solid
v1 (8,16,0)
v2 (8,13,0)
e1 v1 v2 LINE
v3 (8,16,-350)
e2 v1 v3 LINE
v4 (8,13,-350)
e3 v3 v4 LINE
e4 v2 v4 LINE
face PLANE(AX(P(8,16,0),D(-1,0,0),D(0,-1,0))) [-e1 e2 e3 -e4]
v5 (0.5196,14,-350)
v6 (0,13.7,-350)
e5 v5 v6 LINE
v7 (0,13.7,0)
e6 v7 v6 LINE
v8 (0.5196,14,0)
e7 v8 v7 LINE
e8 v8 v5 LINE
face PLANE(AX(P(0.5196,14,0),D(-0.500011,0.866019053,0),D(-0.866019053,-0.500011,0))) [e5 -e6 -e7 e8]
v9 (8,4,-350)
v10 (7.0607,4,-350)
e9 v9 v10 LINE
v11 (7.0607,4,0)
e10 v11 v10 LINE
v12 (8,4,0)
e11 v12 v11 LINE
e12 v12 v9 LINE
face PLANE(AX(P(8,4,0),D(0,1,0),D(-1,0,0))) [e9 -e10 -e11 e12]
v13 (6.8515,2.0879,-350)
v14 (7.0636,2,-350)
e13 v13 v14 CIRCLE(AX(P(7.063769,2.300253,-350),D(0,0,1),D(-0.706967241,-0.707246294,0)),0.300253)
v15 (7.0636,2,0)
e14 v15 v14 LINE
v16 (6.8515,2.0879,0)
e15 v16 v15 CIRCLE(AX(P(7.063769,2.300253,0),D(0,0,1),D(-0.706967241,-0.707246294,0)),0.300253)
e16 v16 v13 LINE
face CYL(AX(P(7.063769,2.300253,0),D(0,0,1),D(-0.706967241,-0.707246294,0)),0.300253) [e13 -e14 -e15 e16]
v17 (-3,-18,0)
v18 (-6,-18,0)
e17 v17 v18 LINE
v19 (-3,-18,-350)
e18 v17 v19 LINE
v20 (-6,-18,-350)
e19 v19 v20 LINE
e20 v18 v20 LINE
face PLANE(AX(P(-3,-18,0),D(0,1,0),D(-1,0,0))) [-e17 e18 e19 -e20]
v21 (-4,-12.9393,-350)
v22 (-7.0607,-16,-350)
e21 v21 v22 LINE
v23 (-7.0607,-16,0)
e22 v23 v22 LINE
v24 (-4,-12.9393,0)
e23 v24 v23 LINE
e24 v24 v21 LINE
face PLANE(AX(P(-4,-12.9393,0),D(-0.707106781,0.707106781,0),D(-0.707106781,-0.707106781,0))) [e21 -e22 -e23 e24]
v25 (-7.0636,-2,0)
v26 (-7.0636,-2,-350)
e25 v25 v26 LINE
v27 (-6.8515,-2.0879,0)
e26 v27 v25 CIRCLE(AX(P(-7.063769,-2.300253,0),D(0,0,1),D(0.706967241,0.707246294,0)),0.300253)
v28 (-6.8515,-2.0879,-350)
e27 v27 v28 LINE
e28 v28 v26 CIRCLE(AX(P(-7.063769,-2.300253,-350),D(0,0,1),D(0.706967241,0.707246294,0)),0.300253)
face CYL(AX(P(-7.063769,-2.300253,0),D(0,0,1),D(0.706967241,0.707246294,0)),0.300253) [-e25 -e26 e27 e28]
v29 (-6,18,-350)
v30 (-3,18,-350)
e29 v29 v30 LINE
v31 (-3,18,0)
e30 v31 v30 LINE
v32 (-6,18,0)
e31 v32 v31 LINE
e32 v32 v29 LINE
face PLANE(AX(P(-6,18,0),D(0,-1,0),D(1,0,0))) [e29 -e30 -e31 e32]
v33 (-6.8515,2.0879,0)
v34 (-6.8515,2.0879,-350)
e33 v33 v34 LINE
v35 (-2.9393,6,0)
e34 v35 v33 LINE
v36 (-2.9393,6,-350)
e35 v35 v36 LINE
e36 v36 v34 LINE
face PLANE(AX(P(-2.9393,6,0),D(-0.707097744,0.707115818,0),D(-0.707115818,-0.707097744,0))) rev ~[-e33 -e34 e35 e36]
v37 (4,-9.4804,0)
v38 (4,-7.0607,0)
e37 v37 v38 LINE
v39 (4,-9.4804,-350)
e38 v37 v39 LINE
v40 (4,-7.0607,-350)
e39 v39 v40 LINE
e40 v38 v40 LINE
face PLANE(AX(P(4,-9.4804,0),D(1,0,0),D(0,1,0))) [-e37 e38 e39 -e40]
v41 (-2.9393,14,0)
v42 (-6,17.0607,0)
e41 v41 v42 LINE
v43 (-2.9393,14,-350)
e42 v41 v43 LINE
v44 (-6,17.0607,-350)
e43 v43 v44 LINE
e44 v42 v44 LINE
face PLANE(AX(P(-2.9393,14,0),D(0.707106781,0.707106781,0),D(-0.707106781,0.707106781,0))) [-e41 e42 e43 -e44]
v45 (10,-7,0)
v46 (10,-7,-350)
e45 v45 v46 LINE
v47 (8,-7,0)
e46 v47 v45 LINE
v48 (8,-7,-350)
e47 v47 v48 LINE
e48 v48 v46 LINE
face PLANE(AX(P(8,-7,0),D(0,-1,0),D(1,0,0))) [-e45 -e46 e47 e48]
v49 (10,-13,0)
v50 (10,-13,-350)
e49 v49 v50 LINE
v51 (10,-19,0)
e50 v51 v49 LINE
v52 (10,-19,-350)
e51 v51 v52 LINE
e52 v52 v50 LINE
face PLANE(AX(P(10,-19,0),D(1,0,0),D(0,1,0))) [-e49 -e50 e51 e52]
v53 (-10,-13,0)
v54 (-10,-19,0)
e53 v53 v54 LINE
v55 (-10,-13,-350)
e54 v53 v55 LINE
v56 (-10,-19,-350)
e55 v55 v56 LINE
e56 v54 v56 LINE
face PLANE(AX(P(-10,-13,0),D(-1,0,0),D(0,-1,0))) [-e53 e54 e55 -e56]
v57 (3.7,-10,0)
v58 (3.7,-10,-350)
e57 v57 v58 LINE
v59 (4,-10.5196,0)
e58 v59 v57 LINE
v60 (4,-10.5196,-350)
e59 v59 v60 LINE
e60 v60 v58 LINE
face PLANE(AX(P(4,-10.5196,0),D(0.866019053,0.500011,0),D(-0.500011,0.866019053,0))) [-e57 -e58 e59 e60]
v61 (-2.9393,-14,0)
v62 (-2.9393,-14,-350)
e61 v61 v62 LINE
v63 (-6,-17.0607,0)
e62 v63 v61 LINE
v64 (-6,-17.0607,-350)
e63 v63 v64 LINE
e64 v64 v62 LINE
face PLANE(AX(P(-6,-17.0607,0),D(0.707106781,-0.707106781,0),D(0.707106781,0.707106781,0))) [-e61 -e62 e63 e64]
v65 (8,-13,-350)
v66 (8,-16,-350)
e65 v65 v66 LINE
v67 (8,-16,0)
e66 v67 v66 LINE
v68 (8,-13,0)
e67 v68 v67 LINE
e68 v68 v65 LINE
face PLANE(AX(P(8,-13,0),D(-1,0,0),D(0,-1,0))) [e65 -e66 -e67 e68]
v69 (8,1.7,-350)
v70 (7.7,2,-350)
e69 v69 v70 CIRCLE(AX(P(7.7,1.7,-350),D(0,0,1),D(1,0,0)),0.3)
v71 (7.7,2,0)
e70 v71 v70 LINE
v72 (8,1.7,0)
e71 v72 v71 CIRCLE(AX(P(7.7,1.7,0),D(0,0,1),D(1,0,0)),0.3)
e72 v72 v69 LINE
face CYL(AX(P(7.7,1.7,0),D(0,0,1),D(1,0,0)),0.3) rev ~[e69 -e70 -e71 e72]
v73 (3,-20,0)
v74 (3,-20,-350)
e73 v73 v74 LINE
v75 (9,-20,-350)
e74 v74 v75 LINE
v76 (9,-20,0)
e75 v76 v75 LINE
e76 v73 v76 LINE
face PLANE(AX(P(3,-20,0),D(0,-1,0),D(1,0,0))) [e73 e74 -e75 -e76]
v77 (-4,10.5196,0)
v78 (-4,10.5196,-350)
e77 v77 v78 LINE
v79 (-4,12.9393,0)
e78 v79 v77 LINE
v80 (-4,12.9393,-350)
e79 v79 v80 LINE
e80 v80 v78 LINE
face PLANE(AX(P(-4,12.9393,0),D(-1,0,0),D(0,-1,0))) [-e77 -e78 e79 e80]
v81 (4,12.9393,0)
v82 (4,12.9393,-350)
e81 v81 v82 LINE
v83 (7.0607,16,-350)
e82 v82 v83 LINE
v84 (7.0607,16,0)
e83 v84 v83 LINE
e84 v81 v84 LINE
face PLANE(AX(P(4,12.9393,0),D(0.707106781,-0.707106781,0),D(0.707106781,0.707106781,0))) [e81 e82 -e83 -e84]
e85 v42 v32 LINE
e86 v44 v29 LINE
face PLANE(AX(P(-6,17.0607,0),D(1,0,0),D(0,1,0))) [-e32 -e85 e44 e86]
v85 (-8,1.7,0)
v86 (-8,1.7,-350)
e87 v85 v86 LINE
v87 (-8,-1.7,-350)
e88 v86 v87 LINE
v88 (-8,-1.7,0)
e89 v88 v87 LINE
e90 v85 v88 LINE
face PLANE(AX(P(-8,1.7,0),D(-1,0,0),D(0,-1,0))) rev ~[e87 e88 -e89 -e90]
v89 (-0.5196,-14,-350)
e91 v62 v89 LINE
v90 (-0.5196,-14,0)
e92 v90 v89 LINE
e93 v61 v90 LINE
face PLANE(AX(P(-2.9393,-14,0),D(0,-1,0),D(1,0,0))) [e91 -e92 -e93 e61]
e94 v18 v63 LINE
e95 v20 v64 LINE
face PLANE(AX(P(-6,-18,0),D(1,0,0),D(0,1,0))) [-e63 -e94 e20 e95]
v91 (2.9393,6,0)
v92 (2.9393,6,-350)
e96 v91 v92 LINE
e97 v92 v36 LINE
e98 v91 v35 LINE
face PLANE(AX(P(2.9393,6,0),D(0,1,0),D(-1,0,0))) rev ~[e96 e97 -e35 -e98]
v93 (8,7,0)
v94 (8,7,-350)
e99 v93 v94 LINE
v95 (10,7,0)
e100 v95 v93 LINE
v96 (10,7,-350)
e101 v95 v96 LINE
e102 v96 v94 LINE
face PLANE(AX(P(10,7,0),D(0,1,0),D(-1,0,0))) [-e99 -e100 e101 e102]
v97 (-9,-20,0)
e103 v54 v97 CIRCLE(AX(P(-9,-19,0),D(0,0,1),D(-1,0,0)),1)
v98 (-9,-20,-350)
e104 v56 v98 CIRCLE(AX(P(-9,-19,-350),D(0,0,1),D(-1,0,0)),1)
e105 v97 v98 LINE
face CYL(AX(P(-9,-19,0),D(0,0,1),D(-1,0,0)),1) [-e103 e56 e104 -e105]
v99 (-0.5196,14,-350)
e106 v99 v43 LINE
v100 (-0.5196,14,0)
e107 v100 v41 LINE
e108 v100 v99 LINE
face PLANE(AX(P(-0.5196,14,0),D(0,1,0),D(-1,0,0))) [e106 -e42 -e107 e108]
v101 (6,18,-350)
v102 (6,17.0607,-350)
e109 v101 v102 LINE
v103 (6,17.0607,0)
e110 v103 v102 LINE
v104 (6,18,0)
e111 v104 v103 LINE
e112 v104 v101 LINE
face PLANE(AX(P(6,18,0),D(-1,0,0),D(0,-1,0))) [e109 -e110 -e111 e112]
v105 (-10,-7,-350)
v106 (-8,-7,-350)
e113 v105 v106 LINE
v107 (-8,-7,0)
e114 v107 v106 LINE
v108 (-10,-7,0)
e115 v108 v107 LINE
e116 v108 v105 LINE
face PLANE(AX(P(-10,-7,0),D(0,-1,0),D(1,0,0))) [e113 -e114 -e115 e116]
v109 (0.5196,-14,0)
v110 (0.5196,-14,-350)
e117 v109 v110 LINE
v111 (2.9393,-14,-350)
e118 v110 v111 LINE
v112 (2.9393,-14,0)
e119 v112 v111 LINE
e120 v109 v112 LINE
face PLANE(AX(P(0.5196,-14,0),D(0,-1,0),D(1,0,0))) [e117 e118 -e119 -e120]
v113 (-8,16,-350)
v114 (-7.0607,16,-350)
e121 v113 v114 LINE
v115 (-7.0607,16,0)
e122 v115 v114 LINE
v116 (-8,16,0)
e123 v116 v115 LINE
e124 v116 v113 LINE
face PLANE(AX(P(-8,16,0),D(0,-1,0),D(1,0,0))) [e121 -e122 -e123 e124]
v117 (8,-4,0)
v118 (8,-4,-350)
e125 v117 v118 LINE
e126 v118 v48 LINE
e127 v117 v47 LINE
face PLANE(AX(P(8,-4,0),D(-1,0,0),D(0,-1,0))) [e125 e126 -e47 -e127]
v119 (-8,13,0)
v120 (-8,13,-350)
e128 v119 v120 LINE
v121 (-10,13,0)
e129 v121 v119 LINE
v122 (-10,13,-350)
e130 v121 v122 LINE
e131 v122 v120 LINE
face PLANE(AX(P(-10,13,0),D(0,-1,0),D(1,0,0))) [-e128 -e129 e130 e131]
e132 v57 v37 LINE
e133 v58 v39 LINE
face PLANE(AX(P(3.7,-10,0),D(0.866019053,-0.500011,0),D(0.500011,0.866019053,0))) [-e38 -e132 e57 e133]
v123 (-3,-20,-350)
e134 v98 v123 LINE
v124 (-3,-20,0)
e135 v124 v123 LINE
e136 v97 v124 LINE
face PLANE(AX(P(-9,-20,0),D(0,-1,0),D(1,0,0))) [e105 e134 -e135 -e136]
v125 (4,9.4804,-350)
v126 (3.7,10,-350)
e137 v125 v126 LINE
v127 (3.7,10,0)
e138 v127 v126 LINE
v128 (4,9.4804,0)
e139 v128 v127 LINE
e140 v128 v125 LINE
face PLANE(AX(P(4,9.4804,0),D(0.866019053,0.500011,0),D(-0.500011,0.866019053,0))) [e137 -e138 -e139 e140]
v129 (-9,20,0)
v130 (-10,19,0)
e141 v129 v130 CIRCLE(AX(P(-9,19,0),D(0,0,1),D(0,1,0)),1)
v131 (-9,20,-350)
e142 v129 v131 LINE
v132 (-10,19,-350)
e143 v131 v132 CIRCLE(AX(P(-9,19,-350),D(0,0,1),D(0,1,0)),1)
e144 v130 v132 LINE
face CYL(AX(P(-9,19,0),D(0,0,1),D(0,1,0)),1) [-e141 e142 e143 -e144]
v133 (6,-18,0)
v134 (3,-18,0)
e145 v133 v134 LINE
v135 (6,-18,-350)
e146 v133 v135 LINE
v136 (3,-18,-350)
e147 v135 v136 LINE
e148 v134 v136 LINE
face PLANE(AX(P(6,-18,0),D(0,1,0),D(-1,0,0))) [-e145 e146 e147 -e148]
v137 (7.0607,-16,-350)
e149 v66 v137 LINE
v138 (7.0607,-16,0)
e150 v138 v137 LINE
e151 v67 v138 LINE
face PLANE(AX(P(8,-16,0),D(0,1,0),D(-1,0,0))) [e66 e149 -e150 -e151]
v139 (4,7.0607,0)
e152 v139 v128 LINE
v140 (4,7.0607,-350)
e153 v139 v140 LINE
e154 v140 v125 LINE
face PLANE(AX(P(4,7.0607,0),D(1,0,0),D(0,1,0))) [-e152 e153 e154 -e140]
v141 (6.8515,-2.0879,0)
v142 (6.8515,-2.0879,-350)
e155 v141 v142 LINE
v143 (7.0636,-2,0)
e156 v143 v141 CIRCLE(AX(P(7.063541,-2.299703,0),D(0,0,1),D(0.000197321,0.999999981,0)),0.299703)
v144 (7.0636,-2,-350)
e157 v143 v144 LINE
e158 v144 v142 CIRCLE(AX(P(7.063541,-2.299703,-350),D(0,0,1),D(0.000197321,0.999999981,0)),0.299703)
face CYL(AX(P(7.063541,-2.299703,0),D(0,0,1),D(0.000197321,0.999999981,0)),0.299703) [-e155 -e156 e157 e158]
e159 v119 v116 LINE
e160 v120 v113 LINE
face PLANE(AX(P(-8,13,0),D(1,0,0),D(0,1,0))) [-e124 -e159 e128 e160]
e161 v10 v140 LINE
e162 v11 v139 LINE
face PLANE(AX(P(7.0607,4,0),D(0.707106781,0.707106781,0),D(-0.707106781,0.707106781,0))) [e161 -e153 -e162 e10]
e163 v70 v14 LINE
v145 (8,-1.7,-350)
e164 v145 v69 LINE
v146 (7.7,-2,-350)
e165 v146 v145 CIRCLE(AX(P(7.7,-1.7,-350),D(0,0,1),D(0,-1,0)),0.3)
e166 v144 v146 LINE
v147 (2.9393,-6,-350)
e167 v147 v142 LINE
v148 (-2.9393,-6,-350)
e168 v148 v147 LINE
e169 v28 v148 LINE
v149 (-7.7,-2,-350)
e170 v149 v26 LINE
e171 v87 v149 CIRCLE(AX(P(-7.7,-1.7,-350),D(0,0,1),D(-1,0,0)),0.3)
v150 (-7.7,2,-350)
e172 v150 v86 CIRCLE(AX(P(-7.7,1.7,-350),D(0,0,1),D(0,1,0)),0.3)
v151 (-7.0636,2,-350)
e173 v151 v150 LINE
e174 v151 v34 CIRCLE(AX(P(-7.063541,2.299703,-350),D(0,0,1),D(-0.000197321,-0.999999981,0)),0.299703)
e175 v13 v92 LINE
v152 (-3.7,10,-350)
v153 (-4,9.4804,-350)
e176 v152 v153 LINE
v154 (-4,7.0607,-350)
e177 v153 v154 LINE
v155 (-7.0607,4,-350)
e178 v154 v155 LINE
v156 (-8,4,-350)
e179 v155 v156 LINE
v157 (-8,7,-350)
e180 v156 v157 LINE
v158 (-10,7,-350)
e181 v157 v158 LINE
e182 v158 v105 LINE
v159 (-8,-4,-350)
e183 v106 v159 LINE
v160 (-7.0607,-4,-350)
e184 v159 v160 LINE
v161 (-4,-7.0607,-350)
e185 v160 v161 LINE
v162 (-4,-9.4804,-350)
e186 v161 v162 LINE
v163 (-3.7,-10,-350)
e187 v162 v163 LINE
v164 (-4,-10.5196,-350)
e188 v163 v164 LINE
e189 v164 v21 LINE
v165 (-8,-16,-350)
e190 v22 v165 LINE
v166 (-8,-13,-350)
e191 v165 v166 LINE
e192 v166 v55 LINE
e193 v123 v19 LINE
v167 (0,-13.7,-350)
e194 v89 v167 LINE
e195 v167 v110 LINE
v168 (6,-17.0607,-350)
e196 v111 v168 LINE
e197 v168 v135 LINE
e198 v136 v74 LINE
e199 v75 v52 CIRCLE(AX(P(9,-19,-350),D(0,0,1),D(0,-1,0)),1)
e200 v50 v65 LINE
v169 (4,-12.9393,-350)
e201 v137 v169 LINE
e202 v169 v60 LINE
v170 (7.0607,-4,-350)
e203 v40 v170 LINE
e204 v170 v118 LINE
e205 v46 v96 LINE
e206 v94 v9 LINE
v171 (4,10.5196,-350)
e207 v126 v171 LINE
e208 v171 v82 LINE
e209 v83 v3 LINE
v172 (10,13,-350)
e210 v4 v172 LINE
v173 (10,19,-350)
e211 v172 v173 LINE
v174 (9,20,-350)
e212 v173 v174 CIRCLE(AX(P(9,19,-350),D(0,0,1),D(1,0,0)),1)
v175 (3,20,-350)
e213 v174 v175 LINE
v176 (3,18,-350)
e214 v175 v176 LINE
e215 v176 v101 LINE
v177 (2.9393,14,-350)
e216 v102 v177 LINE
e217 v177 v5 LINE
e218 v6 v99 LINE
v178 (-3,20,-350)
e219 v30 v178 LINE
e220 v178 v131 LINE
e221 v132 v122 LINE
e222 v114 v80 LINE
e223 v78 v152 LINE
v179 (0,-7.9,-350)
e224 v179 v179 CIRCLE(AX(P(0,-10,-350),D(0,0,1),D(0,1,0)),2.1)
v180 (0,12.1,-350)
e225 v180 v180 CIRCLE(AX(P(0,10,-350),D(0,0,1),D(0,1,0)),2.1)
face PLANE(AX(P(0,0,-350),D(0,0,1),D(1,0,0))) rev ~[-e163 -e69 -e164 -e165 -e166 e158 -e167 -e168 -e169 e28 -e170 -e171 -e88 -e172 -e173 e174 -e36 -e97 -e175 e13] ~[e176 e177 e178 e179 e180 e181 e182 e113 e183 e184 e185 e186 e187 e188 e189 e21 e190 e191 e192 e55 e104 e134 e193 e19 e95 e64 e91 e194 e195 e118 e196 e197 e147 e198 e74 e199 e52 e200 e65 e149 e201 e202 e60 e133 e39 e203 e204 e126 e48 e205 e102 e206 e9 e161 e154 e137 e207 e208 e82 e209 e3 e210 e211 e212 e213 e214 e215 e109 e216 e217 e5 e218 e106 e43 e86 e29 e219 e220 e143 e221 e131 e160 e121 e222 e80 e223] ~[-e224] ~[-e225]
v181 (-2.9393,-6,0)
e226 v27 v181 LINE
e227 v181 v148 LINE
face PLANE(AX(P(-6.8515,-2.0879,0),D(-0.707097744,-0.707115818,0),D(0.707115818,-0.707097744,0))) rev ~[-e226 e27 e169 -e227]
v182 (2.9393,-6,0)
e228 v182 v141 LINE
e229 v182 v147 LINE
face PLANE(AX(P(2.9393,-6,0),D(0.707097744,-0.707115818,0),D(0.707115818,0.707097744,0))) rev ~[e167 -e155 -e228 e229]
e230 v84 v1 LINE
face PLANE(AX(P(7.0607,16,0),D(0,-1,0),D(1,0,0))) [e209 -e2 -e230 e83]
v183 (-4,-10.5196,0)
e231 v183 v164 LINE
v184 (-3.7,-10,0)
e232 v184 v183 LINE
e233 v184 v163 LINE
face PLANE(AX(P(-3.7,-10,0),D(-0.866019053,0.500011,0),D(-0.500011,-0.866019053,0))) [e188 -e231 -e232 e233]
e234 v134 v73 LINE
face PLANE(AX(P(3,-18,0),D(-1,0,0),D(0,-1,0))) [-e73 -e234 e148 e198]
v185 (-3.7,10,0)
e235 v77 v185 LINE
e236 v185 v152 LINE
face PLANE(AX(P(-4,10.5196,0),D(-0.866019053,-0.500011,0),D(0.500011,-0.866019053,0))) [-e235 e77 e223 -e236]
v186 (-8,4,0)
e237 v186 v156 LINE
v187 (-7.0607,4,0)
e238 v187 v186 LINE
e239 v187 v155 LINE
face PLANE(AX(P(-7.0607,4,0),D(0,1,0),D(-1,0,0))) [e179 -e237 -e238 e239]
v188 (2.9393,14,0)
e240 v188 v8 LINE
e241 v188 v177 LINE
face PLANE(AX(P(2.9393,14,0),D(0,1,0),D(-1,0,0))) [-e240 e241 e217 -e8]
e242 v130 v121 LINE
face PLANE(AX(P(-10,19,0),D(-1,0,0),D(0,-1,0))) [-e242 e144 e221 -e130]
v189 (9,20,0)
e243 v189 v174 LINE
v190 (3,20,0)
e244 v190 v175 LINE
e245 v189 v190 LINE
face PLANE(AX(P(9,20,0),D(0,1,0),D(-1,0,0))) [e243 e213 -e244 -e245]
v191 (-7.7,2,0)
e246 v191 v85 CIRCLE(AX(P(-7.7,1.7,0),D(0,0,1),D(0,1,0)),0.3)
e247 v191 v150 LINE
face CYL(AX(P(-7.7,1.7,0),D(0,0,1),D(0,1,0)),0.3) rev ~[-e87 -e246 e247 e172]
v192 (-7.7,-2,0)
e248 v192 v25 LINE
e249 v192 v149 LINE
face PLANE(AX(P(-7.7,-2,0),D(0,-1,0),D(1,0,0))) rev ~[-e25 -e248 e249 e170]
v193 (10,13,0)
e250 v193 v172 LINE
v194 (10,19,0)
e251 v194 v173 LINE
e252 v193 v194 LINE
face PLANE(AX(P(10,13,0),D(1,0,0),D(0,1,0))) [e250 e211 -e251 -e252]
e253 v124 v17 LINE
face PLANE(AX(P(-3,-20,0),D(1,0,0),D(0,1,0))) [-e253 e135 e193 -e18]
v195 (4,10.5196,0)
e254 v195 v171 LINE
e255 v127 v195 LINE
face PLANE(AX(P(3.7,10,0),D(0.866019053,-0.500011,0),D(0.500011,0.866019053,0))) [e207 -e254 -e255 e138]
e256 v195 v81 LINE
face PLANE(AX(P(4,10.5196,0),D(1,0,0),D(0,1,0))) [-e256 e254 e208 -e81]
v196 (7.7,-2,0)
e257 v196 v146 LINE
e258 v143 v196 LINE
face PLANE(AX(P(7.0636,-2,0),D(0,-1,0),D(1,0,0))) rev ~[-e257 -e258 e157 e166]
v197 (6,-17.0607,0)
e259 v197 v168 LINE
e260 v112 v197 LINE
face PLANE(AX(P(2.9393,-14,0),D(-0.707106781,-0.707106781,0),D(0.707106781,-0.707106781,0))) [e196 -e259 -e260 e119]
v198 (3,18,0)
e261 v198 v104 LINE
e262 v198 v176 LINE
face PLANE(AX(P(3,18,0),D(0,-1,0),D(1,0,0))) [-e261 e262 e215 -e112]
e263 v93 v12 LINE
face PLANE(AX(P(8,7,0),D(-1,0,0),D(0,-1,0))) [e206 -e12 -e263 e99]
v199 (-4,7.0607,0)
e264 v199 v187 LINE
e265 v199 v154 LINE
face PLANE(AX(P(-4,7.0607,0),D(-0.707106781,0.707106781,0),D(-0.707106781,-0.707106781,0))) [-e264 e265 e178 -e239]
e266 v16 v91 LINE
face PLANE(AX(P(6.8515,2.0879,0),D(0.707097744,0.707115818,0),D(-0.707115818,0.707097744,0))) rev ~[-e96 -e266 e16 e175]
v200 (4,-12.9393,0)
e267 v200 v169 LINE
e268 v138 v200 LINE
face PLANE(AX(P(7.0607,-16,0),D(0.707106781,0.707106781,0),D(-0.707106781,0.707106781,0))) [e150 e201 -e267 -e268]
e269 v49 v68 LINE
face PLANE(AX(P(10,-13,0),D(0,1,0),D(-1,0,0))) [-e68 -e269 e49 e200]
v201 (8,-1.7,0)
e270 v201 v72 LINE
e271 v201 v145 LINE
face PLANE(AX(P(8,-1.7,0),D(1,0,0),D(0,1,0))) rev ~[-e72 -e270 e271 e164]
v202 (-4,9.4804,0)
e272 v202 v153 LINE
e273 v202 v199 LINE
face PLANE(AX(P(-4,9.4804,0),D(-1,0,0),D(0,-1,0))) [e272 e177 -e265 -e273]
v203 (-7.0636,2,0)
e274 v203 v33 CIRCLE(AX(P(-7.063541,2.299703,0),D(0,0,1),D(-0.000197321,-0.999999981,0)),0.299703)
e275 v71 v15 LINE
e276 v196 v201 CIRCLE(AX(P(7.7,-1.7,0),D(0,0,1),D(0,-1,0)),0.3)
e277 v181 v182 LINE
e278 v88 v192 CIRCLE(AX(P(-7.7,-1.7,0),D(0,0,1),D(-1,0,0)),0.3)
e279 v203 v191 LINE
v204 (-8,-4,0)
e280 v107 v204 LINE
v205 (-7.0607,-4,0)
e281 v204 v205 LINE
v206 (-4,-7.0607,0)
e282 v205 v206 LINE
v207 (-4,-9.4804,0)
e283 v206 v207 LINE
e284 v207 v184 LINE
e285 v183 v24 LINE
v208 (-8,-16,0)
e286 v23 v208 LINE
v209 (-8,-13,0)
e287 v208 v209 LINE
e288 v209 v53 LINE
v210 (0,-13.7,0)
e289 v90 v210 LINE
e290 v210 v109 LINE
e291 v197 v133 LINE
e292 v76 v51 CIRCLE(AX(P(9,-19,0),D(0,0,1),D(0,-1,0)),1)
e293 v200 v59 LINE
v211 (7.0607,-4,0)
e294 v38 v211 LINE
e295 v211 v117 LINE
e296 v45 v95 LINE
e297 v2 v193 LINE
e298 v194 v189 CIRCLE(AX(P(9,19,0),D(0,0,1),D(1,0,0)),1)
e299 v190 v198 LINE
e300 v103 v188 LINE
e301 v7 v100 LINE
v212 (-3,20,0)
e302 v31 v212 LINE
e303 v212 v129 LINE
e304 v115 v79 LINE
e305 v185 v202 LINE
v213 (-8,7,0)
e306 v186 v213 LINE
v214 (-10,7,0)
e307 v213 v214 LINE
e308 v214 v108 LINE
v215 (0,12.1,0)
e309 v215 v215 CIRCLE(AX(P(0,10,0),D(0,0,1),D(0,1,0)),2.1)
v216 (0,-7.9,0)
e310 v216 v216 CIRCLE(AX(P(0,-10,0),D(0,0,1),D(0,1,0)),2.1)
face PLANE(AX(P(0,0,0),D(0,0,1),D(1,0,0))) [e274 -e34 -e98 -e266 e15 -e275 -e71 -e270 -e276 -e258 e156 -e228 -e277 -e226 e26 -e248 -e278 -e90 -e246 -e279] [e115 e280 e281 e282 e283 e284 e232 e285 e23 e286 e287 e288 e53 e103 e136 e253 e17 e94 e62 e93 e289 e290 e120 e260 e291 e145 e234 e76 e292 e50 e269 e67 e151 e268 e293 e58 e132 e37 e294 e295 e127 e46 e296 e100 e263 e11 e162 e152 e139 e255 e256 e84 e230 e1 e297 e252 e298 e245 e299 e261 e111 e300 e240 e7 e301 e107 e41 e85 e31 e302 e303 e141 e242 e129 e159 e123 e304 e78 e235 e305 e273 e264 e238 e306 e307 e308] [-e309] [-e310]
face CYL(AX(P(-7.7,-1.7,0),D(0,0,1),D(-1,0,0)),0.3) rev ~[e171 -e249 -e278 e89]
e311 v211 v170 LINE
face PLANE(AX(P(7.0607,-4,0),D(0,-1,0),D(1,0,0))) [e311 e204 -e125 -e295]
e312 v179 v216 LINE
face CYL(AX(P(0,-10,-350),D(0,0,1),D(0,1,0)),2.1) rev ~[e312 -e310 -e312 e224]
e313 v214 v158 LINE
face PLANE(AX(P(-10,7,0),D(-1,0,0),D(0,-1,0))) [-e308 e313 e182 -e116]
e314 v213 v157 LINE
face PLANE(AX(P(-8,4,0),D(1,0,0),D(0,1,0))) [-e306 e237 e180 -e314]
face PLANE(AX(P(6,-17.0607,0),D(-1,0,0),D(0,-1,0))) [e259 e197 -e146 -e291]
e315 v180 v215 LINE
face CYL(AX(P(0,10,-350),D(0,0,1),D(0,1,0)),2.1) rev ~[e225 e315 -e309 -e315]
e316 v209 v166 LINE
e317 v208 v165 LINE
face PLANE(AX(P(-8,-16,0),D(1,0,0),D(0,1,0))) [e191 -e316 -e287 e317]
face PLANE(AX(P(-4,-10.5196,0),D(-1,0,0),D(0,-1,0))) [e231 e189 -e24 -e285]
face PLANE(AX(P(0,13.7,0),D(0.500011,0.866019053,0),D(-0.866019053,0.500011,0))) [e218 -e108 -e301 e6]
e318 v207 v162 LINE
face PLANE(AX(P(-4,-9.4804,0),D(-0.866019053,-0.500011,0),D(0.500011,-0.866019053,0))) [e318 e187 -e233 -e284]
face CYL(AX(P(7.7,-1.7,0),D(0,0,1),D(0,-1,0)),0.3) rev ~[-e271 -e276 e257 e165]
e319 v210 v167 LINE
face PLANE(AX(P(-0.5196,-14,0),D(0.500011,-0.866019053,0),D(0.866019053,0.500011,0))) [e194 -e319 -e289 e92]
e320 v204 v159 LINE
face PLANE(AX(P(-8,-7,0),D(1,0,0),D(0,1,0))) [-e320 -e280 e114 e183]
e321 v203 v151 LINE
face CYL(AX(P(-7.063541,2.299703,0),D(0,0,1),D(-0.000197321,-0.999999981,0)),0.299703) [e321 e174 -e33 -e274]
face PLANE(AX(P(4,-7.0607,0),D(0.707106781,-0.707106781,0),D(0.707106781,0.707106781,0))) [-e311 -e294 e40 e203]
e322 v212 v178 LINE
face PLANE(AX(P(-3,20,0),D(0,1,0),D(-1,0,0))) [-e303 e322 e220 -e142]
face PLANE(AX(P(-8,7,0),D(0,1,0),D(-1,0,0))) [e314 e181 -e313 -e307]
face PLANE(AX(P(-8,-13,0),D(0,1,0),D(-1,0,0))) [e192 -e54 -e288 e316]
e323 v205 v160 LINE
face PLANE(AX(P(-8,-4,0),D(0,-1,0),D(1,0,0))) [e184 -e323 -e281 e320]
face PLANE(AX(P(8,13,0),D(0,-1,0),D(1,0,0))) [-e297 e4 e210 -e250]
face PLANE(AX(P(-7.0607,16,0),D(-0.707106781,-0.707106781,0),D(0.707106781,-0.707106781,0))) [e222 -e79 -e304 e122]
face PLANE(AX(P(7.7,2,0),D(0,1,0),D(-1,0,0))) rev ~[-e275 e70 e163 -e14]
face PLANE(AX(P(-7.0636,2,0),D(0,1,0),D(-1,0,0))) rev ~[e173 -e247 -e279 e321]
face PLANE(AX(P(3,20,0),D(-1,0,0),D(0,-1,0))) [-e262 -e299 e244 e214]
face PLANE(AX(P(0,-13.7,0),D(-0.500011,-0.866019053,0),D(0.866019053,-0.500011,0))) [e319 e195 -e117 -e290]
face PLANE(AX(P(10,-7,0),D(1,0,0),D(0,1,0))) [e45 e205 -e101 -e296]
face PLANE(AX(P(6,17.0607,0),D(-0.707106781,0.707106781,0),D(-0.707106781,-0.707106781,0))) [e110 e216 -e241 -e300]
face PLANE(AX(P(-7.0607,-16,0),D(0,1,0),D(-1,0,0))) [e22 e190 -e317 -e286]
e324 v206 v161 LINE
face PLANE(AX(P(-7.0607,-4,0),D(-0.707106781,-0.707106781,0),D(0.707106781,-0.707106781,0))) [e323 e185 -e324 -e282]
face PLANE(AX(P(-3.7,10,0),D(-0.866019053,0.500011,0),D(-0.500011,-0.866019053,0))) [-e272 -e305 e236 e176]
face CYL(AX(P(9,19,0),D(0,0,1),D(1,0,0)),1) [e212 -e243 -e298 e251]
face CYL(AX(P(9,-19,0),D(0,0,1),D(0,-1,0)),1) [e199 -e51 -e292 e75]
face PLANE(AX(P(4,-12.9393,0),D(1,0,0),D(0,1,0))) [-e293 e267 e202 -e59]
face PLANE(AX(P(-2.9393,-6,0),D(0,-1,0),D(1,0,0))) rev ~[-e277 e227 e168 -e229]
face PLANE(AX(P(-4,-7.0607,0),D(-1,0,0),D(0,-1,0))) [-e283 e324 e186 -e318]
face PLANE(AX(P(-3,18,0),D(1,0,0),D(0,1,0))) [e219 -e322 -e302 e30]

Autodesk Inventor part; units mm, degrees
sketch "Sketch_1" plane through (0, 0, 0) normal (0, 0, 1) x (1, 0, 0)
  line L0 (-10, -7) -> (-8, -7)
  line L1 (-8, -7) -> (-8, -4)
  line L2 (-8, -4) -> (-7.0607, -4)
  line L3 (-7.0607, -4) -> (-4, -7.0607)
  line L4 (-4, -7.0607) -> (-4, -9.4804)
  line L5 (-4, -9.4804) -> (-3.7, -10)
  line L6 (-3.7, -10) -> (-4, -10.5196)
  line L7 (-4, -10.5196) -> (-4, -12.9393)
  line L8 (-4, -12.9393) -> (-7.0607, -16)
  line L9 (-7.0607, -16) -> (-8, -16)
  line L10 (-8, -16) -> (-8, -13)
  line L11 (-8, -13) -> (-10, -13)
  line L12 (-10, -13) -> (-10, -19)
  arc A0 (-10, -19) -> (-9, -20) centre (-9, -19) ccw
  line L13 (-9, -20) -> (-3, -20)
  line L14 (-3, -20) -> (-3, -18)
  line L15 (-3, -18) -> (-6, -18)
  line L16 (-6, -18) -> (-6, -17.0607)
  line L17 (-6, -17.0607) -> (-2.9393, -14)
  line L18 (-2.9393, -14) -> (-0.5196, -14)
  line L19 (-0.5196, -14) -> (0, -13.7)
  line L20 (0, -13.7) -> (0.5196, -14)
  line L21 (0.5196, -14) -> (2.9393, -14)
  line L22 (2.9393, -14) -> (6, -17.0607)
  line L23 (6, -17.0607) -> (6, -18)
  line L24 (6, -18) -> (3, -18)
  line L25 (3, -18) -> (3, -20)
  line L26 (3, -20) -> (9, -20)
  arc A1 (9, -20) -> (10, -19) centre (9, -19) ccw
  line L27 (10, -19) -> (10, -13)
  line L28 (10, -13) -> (8, -13)
  line L29 (8, -13) -> (8, -16)
  line L30 (8, -16) -> (7.0607, -16)
  line L31 (7.0607, -16) -> (4, -12.9393)
  line L32 (4, -12.9393) -> (4, -10.5196)
  line L33 (4, -10.5196) -> (3.7, -10)
  line L34 (3.7, -10) -> (4, -9.4804)
  line L35 (4, -9.4804) -> (4, -7.0607)
  line L36 (4, -7.0607) -> (7.0607, -4)
  line L37 (7.0607, -4) -> (8, -4)
  line L38 (8, -4) -> (8, -7)
  line L39 (8, -7) -> (10, -7)
  line L40 (10, -7) -> (10, 7)
  line L41 (10, 7) -> (8, 7)
  line L42 (8, 7) -> (8, 4)
  line L43 (8, 4) -> (7.0607, 4)
  line L44 (7.0607, 4) -> (4, 7.0607)
  line L45 (4, 7.0607) -> (4, 9.4804)
  line L46 (4, 9.4804) -> (3.7, 10)
  line L47 (3.7, 10) -> (4, 10.5196)
  line L48 (4, 10.5196) -> (4, 12.9393)
  line L49 (4, 12.9393) -> (7.0607, 16)
  line L50 (7.0607, 16) -> (8, 16)
  line L51 (8, 16) -> (8, 13)
  line L52 (8, 13) -> (10, 13)
  line L53 (10, 13) -> (10, 19)
  arc A2 (10, 19) -> (9, 20) centre (9, 19) ccw
  line L54 (9, 20) -> (3, 20)
  line L55 (3, 20) -> (3, 18)
  line L56 (3, 18) -> (6, 18)
  line L57 (6, 18) -> (6, 17.0607)
  line L58 (6, 17.0607) -> (2.9393, 14)
  line L59 (2.9393, 14) -> (0.5196, 14)
  line L60 (0.5196, 14) -> (0, 13.7)
  line L61 (0, 13.7) -> (-0.5196, 14)
  line L62 (-0.5196, 14) -> (-2.9393, 14)
  line L63 (-2.9393, 14) -> (-6, 17.0607)
  line L64 (-6, 17.0607) -> (-6, 18)
  line L65 (-6, 18) -> (-3, 18)
  line L66 (-3, 18) -> (-3, 20)
  line L67 (-3, 20) -> (-9, 20)
  arc A3 (-9, 20) -> (-10, 19) centre (-9, 19) ccw
  line L68 (-10, 19) -> (-10, 13)
  line L69 (-10, 13) -> (-8, 13)
  line L70 (-8, 13) -> (-8, 16)
  line L71 (-8, 16) -> (-7.0607, 16)
  line L72 (-7.0607, 16) -> (-4, 12.9393)
  line L73 (-4, 12.9393) -> (-4, 10.5196)
  line L74 (-4, 10.5196) -> (-3.7, 10)
  line L75 (-3.7, 10) -> (-4, 9.4804)
  line L76 (-4, 9.4804) -> (-4, 7.0607)
  line L77 (-4, 7.0607) -> (-7.0607, 4)
  line L78 (-7.0607, 4) -> (-8, 4)
  line L79 (-8, 4) -> (-8, 7)
  line L80 (-8, 7) -> (-10, 7)
  line L81 (-10, 7) -> (-10, -7)
  line L82 (-8, 1.7) -> (-8, -1.7)
  arc A4 (-8, -1.7) -> (-7.7, -2) centre (-7.7, -1.7) ccw
  line L83 (-7.7, -2) -> (-7.0636, -2)
  arc A5 (-6.8515, -2.0879) -> (-7.0636, -2) centre (-7.0636, -2.3) ccw
  line L84 (-6.8515, -2.0879) -> (-2.9393, -6)
  line L85 (-2.9393, -6) -> (2.9393, -6)
  line L86 (2.9393, -6) -> (6.8515, -2.0879)
  arc A6 (7.0636, -2) -> (6.8515, -2.0879) centre (7.0636, -2.3) ccw
  line L87 (7.0636, -2) -> (7.7, -2)
  arc A7 (7.7, -2) -> (8, -1.7) centre (7.7, -1.7) ccw
  line L88 (8, -1.7) -> (8, 1.7)
  arc A8 (8, 1.7) -> (7.7, 2) centre (7.7, 1.7) ccw
  line L89 (7.7, 2) -> (7.0636, 2)
  arc A9 (6.8515, 2.0879) -> (7.0636, 2) centre (7.0636, 2.3) ccw
  line L90 (6.8515, 2.0879) -> (2.9393, 6)
  line L91 (2.9393, 6) -> (-2.9393, 6)
  line L92 (-2.9393, 6) -> (-6.8515, 2.0879)
  arc A10 (-7.0636, 2) -> (-6.8515, 2.0879) centre (-7.0636, 2.3) ccw
  line L93 (-7.0636, 2) -> (-7.7, 2)
  arc A11 (-7.7, 2) -> (-8, 1.7) centre (-7.7, 1.7) ccw
extrude "Extrusion1" add sketch "Sketch_1" against normal blind 350
sketch "Sketch2" plane through (0, 0, -350) normal (0, 0, -1) x (-1, 0, 0)
  point P0 (0, 10)
hole "Hole1" at (0, 10, -350) direction (0, 0, 1) diameter 4.2 depth 350
pattern_linear "Rectangular Pattern1" count 2 spacing 20 along (0, -1, 0) of "Hole1"
ref_plane "C1_XY" through (0, 0, 0) normal (0, 0, 1) x (1, 0, 0)
ref_plane "C1_YZ" through (0, 0, 0) normal (1, 0, 0) x (0, 1, 0)
ref_plane "C1_ZX" through (0, 0, 0) normal (0, 1, 0) x (0, 0, 1)
properties part number "HFS5-2040-350"
